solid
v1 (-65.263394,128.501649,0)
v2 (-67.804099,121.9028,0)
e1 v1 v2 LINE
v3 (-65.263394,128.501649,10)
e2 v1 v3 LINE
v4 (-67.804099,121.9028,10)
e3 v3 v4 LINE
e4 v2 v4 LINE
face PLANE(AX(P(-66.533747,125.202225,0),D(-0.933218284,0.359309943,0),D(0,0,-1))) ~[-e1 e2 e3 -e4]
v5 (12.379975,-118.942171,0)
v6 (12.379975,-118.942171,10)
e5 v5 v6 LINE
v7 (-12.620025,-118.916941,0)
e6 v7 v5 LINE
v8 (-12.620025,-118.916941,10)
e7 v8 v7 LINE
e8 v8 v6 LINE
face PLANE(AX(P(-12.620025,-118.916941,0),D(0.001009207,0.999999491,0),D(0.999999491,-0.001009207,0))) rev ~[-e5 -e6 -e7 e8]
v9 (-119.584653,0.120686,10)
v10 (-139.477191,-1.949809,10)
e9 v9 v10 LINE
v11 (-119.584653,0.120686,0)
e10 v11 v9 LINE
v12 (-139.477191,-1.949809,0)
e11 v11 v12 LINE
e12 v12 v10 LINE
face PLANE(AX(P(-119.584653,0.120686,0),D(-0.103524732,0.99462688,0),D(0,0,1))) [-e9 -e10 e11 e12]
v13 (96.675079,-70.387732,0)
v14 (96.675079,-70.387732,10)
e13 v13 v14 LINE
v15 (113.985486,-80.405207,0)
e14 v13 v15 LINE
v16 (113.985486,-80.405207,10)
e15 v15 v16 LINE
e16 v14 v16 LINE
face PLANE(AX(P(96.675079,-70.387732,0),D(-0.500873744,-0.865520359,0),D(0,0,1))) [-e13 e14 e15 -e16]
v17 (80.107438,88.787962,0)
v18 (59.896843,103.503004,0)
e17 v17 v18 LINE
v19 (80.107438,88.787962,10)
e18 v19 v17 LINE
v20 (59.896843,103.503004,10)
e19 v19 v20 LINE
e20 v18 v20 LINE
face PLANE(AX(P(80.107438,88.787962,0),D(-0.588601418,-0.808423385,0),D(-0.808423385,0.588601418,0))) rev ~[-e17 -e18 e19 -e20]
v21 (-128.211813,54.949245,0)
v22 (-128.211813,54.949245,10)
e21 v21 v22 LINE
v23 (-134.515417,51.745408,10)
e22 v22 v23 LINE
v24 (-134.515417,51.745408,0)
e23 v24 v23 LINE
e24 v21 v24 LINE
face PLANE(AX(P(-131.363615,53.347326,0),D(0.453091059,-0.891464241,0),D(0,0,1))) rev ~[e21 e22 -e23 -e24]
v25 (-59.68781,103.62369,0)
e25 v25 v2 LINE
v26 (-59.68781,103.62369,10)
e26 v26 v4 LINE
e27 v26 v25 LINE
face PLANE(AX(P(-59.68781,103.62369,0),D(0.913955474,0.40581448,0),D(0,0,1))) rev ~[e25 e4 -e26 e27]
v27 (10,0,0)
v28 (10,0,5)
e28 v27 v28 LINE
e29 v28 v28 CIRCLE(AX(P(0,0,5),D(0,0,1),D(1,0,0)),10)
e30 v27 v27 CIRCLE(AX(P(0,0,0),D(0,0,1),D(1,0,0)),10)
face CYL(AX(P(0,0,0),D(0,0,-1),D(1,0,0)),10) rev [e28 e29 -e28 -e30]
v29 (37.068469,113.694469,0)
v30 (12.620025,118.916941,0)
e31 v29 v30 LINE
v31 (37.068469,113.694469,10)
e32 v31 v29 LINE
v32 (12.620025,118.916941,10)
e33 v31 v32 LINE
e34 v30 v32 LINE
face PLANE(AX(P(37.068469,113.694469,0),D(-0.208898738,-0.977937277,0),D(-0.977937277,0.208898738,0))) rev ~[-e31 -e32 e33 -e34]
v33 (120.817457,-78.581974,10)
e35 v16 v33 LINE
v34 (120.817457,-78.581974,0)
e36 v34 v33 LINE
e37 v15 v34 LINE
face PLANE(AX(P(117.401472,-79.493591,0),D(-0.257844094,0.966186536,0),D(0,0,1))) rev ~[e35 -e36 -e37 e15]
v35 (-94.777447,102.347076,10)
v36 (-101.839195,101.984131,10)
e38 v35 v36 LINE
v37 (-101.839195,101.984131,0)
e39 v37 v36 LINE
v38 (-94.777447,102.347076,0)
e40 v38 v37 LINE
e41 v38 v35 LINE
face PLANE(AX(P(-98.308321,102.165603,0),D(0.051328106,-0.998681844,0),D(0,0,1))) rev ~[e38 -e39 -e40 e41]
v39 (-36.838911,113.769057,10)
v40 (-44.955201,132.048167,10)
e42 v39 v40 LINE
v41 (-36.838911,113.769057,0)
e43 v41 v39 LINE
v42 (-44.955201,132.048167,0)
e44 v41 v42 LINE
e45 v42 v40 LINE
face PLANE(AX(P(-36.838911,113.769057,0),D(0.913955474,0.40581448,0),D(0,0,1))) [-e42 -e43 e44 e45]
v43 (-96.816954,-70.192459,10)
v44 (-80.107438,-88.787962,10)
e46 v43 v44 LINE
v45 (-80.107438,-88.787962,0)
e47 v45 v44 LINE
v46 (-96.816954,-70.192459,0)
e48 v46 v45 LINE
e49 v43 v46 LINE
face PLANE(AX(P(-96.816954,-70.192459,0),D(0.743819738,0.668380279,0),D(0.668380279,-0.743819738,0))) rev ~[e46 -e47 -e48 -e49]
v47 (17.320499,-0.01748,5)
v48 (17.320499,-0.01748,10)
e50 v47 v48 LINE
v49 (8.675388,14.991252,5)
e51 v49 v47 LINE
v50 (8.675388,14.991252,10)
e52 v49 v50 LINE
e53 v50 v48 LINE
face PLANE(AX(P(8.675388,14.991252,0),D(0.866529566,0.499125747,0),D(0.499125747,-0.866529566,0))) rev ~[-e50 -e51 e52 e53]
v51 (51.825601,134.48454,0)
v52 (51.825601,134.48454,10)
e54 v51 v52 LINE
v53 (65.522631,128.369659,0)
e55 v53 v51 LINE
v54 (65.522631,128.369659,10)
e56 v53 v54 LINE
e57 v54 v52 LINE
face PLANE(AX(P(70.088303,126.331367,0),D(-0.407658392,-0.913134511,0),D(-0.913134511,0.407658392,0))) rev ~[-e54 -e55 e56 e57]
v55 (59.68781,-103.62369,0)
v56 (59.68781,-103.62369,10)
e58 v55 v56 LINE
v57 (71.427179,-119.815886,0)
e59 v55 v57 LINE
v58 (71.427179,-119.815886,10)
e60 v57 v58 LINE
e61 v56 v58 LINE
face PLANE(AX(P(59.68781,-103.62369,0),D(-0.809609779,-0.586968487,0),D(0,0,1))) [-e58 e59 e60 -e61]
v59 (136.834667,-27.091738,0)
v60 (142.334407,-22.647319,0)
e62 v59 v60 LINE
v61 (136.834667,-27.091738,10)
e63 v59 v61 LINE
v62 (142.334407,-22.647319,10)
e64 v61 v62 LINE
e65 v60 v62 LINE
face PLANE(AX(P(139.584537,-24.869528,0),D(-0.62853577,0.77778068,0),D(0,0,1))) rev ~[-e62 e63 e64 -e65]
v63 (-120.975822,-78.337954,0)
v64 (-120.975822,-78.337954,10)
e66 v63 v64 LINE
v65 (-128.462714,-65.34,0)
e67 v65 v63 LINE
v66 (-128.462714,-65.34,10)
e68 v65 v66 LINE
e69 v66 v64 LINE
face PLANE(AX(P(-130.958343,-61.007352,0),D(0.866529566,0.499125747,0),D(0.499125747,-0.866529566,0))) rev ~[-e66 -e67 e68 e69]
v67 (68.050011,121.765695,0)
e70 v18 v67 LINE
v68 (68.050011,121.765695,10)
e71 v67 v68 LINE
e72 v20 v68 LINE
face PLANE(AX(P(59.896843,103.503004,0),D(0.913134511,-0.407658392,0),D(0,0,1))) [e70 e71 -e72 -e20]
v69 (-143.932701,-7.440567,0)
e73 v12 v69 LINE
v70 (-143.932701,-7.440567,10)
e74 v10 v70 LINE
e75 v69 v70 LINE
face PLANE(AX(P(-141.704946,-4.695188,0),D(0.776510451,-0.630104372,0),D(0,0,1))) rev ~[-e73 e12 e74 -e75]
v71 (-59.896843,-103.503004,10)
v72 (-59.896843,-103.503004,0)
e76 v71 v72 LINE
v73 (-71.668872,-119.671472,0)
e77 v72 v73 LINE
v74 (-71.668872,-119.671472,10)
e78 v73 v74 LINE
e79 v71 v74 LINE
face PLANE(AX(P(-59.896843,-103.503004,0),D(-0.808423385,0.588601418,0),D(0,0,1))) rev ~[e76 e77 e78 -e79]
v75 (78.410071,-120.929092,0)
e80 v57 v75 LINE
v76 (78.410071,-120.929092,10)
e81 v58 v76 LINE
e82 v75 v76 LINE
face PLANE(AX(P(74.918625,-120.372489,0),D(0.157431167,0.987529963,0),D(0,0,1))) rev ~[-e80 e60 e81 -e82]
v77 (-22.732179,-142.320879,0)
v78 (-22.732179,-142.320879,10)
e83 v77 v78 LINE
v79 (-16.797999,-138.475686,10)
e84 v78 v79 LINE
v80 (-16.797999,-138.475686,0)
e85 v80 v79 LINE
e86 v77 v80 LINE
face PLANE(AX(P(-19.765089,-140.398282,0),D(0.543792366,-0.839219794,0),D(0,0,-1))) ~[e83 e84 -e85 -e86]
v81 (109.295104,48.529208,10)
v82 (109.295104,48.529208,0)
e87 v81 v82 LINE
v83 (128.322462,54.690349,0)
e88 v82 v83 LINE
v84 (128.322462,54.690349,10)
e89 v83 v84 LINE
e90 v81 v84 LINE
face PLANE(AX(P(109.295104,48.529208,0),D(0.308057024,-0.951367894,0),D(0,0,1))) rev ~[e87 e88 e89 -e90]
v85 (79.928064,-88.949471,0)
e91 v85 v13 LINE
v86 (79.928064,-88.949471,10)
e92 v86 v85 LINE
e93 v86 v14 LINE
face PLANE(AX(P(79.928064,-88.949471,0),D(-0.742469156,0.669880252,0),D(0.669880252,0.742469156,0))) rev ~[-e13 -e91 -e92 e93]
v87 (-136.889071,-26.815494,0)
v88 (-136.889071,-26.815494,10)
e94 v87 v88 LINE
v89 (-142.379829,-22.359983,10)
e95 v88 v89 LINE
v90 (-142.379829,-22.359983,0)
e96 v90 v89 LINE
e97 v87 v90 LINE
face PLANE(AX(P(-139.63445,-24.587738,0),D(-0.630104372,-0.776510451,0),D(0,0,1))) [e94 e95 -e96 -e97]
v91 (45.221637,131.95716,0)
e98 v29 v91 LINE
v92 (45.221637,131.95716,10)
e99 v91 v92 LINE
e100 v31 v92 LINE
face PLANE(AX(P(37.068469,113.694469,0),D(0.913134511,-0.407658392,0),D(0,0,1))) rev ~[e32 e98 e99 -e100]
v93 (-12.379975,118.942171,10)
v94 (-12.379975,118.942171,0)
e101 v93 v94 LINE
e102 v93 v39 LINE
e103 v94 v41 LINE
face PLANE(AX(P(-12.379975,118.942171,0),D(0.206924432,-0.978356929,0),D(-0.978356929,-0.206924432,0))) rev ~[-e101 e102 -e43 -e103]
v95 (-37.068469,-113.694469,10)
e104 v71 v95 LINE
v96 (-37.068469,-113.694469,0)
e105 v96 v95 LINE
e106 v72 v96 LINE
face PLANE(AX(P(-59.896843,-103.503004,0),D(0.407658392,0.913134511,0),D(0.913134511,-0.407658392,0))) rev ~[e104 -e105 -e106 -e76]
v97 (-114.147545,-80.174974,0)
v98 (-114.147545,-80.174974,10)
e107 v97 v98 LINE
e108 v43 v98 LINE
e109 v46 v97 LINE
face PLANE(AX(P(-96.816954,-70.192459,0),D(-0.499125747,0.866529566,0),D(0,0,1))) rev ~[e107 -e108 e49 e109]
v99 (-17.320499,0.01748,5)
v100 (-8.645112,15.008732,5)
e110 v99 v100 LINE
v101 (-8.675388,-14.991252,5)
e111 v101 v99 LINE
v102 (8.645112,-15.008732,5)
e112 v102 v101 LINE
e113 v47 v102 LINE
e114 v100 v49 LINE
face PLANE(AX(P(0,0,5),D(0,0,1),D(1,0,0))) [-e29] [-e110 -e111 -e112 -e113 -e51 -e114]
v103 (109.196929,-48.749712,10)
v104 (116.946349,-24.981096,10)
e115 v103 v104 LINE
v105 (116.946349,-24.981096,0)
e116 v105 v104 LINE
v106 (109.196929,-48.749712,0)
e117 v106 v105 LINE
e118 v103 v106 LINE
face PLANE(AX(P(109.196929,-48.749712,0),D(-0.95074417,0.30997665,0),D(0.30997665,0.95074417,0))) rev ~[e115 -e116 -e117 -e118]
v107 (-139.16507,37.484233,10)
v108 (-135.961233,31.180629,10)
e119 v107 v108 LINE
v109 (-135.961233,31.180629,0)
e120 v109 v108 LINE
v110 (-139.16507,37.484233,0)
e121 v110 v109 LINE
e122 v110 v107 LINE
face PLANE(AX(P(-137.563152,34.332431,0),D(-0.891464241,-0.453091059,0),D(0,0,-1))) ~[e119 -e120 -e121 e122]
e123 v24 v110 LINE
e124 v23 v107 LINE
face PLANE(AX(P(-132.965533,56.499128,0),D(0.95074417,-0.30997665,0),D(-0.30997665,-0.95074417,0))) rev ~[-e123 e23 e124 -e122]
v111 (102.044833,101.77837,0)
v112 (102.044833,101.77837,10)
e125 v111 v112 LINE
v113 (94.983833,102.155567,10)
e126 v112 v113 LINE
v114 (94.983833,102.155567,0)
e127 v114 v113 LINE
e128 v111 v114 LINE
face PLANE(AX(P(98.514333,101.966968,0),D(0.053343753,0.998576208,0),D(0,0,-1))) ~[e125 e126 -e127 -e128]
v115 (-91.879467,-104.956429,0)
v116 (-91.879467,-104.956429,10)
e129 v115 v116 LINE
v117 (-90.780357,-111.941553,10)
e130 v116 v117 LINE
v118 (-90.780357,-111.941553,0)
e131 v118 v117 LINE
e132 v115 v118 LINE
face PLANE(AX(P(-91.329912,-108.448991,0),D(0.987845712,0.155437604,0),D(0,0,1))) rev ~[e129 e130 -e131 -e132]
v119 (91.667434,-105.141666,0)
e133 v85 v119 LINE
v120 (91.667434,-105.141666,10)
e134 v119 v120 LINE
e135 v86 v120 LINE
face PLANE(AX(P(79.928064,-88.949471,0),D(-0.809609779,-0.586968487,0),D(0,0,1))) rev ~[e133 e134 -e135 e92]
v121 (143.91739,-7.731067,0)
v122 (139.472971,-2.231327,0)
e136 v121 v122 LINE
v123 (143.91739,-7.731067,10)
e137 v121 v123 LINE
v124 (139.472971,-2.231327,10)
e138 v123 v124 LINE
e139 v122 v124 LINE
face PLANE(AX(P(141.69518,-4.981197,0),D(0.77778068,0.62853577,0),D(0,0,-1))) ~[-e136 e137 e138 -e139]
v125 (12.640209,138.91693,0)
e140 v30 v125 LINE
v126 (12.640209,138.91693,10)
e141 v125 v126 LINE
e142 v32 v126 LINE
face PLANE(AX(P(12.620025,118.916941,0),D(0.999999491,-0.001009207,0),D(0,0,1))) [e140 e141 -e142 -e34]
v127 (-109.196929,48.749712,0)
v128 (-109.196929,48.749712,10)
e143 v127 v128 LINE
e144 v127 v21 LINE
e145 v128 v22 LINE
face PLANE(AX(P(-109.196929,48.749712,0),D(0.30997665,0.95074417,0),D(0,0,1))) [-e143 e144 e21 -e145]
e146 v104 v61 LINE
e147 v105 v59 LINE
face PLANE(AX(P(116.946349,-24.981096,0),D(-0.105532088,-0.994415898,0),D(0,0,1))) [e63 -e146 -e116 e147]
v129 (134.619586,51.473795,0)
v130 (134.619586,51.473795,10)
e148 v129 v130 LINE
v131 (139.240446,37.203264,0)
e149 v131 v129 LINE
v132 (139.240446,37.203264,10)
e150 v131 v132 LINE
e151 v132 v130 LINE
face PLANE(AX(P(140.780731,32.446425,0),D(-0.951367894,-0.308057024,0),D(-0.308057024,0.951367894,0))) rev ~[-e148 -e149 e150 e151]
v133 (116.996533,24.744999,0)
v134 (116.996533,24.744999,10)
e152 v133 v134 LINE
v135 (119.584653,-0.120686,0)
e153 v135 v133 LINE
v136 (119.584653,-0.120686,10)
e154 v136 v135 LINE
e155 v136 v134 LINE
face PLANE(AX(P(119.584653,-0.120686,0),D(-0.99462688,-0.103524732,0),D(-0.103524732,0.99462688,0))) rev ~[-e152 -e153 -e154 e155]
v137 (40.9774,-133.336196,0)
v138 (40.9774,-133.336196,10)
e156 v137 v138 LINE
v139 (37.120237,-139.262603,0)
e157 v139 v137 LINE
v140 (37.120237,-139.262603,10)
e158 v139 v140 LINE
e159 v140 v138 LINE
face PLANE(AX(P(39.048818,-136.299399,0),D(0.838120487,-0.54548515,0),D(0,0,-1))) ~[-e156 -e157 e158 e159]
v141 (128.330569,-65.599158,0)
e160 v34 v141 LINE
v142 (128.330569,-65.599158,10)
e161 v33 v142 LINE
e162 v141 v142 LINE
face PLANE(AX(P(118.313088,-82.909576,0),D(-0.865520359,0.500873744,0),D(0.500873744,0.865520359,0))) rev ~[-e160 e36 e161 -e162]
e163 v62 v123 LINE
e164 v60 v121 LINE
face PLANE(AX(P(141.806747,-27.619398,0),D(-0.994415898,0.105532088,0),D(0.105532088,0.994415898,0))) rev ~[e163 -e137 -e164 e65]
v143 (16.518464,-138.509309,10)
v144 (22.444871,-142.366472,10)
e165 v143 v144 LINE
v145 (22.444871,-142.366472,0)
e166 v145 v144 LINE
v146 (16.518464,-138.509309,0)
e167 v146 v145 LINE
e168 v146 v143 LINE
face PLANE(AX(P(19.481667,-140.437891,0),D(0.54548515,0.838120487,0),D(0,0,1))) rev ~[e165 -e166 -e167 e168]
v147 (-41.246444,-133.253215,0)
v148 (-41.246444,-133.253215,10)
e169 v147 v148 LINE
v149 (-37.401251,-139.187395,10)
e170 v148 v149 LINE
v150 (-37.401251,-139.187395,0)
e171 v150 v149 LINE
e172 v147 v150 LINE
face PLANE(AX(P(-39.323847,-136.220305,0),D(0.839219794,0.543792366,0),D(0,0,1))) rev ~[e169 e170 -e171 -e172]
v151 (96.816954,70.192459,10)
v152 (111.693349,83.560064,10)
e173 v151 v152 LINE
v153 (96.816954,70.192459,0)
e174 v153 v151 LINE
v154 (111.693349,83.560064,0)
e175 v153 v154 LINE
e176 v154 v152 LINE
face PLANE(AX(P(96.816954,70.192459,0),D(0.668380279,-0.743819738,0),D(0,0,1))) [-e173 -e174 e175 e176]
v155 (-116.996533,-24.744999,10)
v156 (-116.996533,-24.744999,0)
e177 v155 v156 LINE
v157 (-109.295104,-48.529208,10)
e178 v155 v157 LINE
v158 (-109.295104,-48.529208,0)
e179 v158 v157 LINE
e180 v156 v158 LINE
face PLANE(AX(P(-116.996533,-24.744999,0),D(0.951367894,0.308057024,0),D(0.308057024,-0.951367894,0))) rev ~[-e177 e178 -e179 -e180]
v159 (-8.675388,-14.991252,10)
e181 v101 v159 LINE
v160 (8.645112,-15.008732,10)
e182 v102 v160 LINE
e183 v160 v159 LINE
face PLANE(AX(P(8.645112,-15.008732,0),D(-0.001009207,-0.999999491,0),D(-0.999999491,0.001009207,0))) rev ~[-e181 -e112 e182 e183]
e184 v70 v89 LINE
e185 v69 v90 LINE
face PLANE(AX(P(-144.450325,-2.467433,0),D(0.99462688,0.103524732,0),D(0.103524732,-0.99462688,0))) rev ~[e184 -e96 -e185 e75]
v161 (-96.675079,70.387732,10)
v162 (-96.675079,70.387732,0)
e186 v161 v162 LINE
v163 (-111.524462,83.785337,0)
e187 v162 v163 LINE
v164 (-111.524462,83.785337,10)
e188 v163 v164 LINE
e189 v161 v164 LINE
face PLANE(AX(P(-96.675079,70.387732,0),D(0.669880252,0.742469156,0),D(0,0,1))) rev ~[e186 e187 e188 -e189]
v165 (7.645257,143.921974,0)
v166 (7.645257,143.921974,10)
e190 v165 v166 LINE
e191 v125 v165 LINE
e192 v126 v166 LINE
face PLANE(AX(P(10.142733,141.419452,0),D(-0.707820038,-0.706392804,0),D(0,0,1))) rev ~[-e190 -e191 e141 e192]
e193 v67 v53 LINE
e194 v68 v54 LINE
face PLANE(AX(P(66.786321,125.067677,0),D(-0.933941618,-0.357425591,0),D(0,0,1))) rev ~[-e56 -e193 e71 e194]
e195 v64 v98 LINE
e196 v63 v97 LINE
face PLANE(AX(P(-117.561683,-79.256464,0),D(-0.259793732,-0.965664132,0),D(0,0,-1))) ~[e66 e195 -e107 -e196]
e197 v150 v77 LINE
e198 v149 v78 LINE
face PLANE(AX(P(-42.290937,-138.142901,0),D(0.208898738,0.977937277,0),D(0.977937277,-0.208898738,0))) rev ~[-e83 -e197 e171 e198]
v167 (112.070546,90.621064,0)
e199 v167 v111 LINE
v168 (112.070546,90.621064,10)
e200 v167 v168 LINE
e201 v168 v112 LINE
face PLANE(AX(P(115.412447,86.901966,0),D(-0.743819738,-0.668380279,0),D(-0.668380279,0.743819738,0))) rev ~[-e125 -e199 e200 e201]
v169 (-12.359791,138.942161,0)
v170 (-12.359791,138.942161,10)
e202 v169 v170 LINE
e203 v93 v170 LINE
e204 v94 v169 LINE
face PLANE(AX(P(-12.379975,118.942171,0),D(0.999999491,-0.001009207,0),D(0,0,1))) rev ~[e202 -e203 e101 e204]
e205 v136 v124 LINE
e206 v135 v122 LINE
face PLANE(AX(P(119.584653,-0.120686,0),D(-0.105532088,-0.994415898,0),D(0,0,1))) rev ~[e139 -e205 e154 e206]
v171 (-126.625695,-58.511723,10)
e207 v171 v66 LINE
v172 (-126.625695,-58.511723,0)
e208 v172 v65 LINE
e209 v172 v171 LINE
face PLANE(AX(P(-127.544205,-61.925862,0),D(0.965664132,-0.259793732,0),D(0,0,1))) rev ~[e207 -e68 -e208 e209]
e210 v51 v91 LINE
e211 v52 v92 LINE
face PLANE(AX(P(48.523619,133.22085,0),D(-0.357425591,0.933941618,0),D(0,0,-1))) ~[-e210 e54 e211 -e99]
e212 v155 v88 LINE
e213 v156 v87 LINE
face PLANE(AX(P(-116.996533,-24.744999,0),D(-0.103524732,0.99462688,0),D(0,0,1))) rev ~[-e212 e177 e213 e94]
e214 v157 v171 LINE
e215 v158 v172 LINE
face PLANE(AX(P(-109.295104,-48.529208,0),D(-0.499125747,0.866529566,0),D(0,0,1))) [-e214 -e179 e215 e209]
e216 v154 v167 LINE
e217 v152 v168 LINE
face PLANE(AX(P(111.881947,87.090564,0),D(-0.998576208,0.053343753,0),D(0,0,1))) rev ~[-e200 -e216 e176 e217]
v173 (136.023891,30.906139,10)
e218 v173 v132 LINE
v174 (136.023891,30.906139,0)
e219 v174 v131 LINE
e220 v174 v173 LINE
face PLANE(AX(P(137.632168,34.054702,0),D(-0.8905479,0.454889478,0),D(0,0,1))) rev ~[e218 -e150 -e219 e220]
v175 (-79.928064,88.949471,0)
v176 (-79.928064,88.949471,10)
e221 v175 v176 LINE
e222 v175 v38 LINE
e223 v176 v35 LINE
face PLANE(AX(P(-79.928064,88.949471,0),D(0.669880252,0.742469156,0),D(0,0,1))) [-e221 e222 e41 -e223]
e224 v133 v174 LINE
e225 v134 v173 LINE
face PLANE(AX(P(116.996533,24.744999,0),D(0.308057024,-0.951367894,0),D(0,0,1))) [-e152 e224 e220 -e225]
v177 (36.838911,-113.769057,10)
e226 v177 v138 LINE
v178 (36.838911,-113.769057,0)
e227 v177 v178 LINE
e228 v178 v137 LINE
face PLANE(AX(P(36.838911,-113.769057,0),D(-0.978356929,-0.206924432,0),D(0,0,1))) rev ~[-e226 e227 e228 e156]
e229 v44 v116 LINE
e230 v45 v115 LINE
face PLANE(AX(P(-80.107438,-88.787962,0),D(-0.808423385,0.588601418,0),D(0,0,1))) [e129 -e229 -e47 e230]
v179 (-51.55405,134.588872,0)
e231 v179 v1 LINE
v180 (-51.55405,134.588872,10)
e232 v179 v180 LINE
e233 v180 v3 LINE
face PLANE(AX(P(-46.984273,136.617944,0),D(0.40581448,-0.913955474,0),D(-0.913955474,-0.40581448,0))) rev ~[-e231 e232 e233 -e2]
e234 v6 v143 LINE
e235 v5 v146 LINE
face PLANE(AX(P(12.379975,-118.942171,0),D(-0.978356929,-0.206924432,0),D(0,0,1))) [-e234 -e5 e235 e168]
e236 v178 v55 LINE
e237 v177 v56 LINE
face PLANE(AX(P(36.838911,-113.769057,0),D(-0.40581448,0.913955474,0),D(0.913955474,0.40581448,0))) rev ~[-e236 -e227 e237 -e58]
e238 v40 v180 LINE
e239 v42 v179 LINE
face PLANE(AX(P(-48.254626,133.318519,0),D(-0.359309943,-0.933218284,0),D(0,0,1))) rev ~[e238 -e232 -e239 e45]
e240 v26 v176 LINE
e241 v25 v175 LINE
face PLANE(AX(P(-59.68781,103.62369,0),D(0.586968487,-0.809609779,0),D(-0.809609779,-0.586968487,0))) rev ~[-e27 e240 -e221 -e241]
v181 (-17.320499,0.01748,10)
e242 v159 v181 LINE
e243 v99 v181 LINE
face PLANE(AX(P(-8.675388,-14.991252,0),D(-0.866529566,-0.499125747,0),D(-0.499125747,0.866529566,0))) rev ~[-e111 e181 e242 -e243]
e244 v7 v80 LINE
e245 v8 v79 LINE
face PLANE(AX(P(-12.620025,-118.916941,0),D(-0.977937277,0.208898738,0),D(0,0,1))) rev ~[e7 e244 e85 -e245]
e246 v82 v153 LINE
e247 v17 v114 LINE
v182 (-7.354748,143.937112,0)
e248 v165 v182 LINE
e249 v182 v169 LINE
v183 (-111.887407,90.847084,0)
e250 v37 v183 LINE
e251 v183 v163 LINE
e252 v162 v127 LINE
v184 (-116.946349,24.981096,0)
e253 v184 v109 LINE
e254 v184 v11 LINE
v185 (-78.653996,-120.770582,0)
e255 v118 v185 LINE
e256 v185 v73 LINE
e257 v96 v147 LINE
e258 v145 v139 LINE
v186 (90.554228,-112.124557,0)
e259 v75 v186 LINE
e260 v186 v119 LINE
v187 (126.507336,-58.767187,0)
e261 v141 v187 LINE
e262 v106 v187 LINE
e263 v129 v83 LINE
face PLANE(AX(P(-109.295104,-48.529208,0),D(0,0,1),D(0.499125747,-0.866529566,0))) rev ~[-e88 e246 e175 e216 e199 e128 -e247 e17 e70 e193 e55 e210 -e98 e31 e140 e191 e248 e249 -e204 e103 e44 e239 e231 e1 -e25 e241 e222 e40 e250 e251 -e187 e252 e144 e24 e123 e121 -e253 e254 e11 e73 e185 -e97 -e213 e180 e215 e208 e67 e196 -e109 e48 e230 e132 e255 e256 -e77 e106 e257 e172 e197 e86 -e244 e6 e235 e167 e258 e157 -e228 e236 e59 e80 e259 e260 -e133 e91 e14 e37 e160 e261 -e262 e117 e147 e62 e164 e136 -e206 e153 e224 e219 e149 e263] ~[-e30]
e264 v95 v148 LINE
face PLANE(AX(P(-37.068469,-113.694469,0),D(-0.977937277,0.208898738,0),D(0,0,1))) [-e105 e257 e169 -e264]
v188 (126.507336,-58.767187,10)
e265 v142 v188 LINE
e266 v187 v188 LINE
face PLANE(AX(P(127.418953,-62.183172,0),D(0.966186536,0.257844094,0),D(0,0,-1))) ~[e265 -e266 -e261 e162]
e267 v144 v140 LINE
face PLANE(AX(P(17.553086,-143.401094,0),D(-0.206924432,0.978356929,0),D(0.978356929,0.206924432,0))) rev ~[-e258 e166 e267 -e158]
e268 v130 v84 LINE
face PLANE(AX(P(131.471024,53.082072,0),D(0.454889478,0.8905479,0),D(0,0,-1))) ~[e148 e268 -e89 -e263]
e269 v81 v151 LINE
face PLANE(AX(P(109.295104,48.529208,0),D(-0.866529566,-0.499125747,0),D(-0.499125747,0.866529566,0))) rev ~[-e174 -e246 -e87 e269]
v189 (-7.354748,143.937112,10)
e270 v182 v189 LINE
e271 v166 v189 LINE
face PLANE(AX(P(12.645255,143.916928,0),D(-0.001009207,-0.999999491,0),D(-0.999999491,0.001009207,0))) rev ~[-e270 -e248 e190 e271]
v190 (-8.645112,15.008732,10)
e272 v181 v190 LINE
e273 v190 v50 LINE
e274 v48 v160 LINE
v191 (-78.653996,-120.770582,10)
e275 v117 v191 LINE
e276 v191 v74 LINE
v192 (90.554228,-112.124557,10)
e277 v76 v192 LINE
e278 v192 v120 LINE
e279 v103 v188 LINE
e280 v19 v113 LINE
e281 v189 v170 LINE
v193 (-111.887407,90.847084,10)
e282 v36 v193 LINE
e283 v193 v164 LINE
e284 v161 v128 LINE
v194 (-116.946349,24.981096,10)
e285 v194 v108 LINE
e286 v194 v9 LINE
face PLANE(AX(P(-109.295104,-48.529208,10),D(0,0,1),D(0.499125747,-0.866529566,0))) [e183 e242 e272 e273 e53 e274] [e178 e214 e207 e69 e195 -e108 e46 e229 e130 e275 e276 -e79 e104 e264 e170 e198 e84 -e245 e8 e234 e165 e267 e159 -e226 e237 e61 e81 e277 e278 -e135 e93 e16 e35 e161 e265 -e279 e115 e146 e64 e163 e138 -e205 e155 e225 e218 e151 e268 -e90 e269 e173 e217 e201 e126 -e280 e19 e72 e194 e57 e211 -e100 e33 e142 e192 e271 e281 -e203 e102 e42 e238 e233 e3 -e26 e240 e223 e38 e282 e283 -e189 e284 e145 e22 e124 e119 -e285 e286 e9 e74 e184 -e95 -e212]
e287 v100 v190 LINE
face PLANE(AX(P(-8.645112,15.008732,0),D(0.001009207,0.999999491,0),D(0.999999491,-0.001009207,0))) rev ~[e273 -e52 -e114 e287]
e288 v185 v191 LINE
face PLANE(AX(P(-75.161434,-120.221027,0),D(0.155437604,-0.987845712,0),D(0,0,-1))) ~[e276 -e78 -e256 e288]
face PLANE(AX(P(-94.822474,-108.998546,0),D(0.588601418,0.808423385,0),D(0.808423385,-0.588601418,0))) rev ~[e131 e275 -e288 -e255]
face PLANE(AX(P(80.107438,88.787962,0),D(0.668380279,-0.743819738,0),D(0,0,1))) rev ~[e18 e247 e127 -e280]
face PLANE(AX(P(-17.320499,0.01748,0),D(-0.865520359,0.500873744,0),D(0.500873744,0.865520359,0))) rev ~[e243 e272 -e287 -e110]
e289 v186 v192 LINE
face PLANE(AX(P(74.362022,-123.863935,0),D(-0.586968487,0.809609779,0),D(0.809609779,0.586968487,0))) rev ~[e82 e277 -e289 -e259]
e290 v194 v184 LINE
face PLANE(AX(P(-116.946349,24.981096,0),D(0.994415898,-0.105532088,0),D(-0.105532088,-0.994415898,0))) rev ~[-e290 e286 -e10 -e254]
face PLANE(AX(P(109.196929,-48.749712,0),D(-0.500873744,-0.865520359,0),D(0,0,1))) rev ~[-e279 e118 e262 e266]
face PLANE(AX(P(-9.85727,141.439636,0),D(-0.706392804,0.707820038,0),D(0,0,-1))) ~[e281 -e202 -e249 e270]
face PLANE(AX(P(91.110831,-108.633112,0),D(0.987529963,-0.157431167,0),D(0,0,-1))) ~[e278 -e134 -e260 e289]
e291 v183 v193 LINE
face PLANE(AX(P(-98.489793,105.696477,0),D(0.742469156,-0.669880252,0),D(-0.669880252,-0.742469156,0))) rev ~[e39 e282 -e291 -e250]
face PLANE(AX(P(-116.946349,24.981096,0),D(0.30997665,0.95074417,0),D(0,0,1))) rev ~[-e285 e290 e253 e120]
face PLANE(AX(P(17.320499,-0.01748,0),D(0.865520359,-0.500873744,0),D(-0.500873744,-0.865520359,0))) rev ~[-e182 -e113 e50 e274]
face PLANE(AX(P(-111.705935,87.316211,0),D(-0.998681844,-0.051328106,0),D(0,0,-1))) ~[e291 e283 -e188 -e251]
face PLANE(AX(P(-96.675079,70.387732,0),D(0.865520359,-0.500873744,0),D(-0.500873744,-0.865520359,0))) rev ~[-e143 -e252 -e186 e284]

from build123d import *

# Parameters (mm, degrees)
F1_DEPTH  = 10
F2_DEPTH  = 25
F3_DEPTH  = 25
F4_DEPTH  = 25
F5_DEPTH  = 25
F6_DEPTH  = 25
F7_DEPTH  = 25
F8_DEPTH  = 25
F9_DEPTH  = 25
F10_DEPTH = 25
F11_DEPTH = 25
F12_DEPTH = 25
F13_DEPTH = 25
F14_DEPTH = 25
F15_DEPTH = 25
F16_DEPTH = 25
F17_SIZE  = 5
F0_R      = 10
F18_DEPTH = 5


with BuildPart() as f1:
    # F0 (on Top) → F1 (new body)
    with BuildSketch(Plane.XY):
        Polygon((-96.6750791953, 70.3877321793), (-109.1969291758, 48.7497121768), (-116.9463493664, 24.9810958252), (-119.5846529188, 0.1206857134), (-116.9965333079, -24.7449989432), (-109.2951037797, -48.5292084063), (-96.8169537602, -70.1924585931), (-80.1074382822, -88.7879615186), (-59.8968433531, -103.5030044738), (-37.0684689525, -113.6944694709), (-12.6200245844, -118.9169405856), (12.3799754156, -118.9421707699), (36.8389110842, -113.7690573437), (59.6878095658, -103.6236901871), (79.9280643554, -88.9494705277), (96.6750791953, -70.3877321793), (109.1969291758, -48.7497121768), (116.9463493664, -24.9810958252), (119.5846529188, -0.1206857134), (116.9965333079, 24.7449989432), (109.2951037797, 48.5292084063), (96.8169537602, 70.1924585931), (80.1074382822, 88.7879615186), (59.8968433531, 103.5030044738), (37.0684689525, 113.6944694709), (12.6200245844, 118.9169405856), (-12.3799754156, 118.9421707699), (-36.8389110842, 113.7690573437), (-59.6878095658, 103.6236901871), (-79.9280643554, 88.9494705277), align=None)
        Polygon((-8.6753877305, -14.9912523735), (-17.3204992552, 0.0174799755), (-8.6451115247, 15.008732349), (8.6753877305, 14.9912523735), (17.3204992552, -0.0174799755), (8.6451115247, -15.008732349), align=None, mode=Mode.SUBTRACT)
    extrude(amount=F1_DEPTH)

    # F2 (add): a face of the model
    f2_faces = [f1.faces().sort_by_distance(p)[0] for p in [
        (0.1200245844, 118.9295556778, 5),
    ]]
    extrude(f2_faces, amount=F2_DEPTH)

    # F3 (add): a face of the model
    f3_faces = [f1.faces().sort_by_distance(p)[0] for p in [
        (-48.263360325, 108.6963737654, 5),
    ]]
    extrude(f3_faces, amount=F3_DEPTH)

    # F4 (add): a face of the model
    f4_faces = [f1.faces().sort_by_distance(p)[0] for p in [
        (-88.3015717753, 79.6686013535, 5),
    ]]
    extrude(f4_faces, amount=F4_DEPTH)

    # F5 (add): a face of the model
    f5_faces = [f1.faces().sort_by_distance(p)[0] for p in [
        (-113.0716392711, 36.865404001, 5),
    ]]
    extrude(f5_faces, amount=F5_DEPTH)

    # F6 (add): a face of the model
    f6_faces = [f1.faces().sort_by_distance(p)[0] for p in [
        (-118.2905931133, -12.3121566149, 5),
    ]]
    extrude(f6_faces, amount=F6_DEPTH)

    # F7 (add): a face of the model
    f7_faces = [f1.faces().sort_by_distance(p)[0] for p in [
        (48.4826561528, 108.5987369723, 5),
    ]]
    extrude(f7_faces, amount=F7_DEPTH)

    # F8 (add): a face of the model
    f8_faces = [f1.faces().sort_by_distance(p)[0] for p in [
        (88.4621960212, 79.4902100558, 5),
    ]]
    extrude(f8_faces, amount=F8_DEPTH)

    # F9 (add): a face of the model
    f9_faces = [f1.faces().sort_by_distance(p)[0] for p in [
        (113.1458185438, 36.6371036748, 5),
    ]]
    extrude(f9_faces, amount=F9_DEPTH)

    # F10 (add): a face of the model
    f10_faces = [f1.faces().sort_by_distance(p)[0] for p in [
        (118.2655011426, -12.5508907693, 5),
    ]]
    extrude(f10_faces, amount=F10_DEPTH)

    # F11 (add): a face of the model
    f11_faces = [f1.faces().sort_by_distance(p)[0] for p in [
        (102.9360041856, -59.5687221781, 5),
    ]]
    extrude(f11_faces, amount=F11_DEPTH)

    # F12 (add): a face of the model
    f12_faces = [f1.faces().sort_by_distance(p)[0] for p in [
        (69.8079369606, -96.2865803574, 5),
    ]]
    extrude(f12_faces, amount=F12_DEPTH)

    # F13 (add): a face of the model
    f13_faces = [f1.faces().sort_by_distance(p)[0] for p in [
        (24.6094432499, -116.3556140568, 5),
    ]]
    extrude(f13_faces, amount=F13_DEPTH)

    # F14 (add): a face of the model
    f14_faces = [f1.faces().sort_by_distance(p)[0] for p in [
        (-24.8442467684, -116.3057050283, 5),
    ]]
    extrude(f14_faces, amount=F14_DEPTH)

    # F15 (add): a face of the model
    f15_faces = [f1.faces().sort_by_distance(p)[0] for p in [
        (-70.0021408176, -96.1454829962, 5),
    ]]
    extrude(f15_faces, amount=F15_DEPTH)

    # F16 (add): a face of the model
    f16_faces = [f1.faces().sort_by_distance(p)[0] for p in [
        (-103.05602877, -59.3608334997, 5),
    ]]
    extrude(f16_faces, amount=F16_DEPTH)

    # F17
    f17_edges = [f1.edges().sort_by_distance(p)[0] for p in [
        (144.44505, -2.758988, 5),
        (141.806747, -27.619398, 5),
        (140.780731, 32.446425, 5),
        (133.079301, 56.230634, 5),
        (115.412447, 86.901966, 5),
        (98.702932, 105.497468, 5),
        (70.088303, 126.331367, 5),
        (47.259929, 136.522832, 5),
        (12.645255, 143.916928, 5),
        (-12.354745, 143.942158, 5),
        (-46.984273, 136.617944, 5),
        (-69.833172, 126.472577, 5),
        (42.012022, -138.227981, 5),
        (17.553086, -143.401094, 5),
        (74.362022, -123.863935, 5),
        (94.602277, -109.189715, 5),
        (-98.489793, 105.696477, 5),
        (-74.611879, -123.713589, 5),
        (-17.842493, -143.365373, 5),
        (-42.290937, -138.142901, 5),
        (-118.480193, -82.670602, 5),
        (-141.862205, -27.333117, 5),
        (-140.714954, 32.730512, 5),
        (-144.450325, -2.467433, 5),
        (-130.958343, -61.007352, 5),
        (-132.965533, 56.499128, 5),
        (-115.236808, 87.134738, 5),
        (130.834938, -61.271556, 5),
        (118.313088, -82.909576, 5),
        (-94.822474, -108.998546, 5),
    ]]
    chamfer(f17_edges, length=F17_SIZE)

    # F0 (on Top) → F18 (join)
    with BuildSketch(Plane.XY):
        Polygon((-96.6750791953, 70.3877321793), (-109.1969291758, 48.7497121768), (-116.9463493664, 24.9810958252), (-119.5846529188, 0.1206857134), (-116.9965333079, -24.7449989432), (-109.2951037797, -48.5292084063), (-96.8169537602, -70.1924585931), (-80.1074382822, -88.7879615186), (-59.8968433531, -103.5030044738), (-37.0684689525, -113.6944694709), (-12.6200245844, -118.9169405856), (12.3799754156, -118.9421707699), (36.8389110842, -113.7690573437), (59.6878095658, -103.6236901871), (79.9280643554, -88.9494705277), (96.6750791953, -70.3877321793), (109.1969291758, -48.7497121768), (116.9463493664, -24.9810958252), (119.5846529188, -0.1206857134), (116.9965333079, 24.7449989432), (109.2951037797, 48.5292084063), (96.8169537602, 70.1924585931), (80.1074382822, 88.7879615186), (59.8968433531, 103.5030044738), (37.0684689525, 113.6944694709), (12.6200245844, 118.9169405856), (-12.3799754156, 118.9421707699), (-36.8389110842, 113.7690573437), (-59.6878095658, 103.6236901871), (-79.9280643554, 88.9494705277), align=None)
        Polygon((-8.6753877305, -14.9912523735), (-17.3204992552, 0.0174799755), (-8.6451115247, 15.008732349), (8.6753877305, 14.9912523735), (17.3204992552, -0.0174799755), (8.6451115247, -15.008732349), align=None, mode=Mode.SUBTRACT)
        Polygon((-8.6451115247, 15.008732349), (-17.3204992552, 0.0174799755), (-8.6753877305, -14.9912523735), (8.6451115247, -15.008732349), (17.3204992552, -0.0174799755), (8.6753877305, 14.9912523735), align=None)
        Circle(F0_R, mode=Mode.SUBTRACT)
    extrude(amount=F18_DEPTH)


solid = f1.part
